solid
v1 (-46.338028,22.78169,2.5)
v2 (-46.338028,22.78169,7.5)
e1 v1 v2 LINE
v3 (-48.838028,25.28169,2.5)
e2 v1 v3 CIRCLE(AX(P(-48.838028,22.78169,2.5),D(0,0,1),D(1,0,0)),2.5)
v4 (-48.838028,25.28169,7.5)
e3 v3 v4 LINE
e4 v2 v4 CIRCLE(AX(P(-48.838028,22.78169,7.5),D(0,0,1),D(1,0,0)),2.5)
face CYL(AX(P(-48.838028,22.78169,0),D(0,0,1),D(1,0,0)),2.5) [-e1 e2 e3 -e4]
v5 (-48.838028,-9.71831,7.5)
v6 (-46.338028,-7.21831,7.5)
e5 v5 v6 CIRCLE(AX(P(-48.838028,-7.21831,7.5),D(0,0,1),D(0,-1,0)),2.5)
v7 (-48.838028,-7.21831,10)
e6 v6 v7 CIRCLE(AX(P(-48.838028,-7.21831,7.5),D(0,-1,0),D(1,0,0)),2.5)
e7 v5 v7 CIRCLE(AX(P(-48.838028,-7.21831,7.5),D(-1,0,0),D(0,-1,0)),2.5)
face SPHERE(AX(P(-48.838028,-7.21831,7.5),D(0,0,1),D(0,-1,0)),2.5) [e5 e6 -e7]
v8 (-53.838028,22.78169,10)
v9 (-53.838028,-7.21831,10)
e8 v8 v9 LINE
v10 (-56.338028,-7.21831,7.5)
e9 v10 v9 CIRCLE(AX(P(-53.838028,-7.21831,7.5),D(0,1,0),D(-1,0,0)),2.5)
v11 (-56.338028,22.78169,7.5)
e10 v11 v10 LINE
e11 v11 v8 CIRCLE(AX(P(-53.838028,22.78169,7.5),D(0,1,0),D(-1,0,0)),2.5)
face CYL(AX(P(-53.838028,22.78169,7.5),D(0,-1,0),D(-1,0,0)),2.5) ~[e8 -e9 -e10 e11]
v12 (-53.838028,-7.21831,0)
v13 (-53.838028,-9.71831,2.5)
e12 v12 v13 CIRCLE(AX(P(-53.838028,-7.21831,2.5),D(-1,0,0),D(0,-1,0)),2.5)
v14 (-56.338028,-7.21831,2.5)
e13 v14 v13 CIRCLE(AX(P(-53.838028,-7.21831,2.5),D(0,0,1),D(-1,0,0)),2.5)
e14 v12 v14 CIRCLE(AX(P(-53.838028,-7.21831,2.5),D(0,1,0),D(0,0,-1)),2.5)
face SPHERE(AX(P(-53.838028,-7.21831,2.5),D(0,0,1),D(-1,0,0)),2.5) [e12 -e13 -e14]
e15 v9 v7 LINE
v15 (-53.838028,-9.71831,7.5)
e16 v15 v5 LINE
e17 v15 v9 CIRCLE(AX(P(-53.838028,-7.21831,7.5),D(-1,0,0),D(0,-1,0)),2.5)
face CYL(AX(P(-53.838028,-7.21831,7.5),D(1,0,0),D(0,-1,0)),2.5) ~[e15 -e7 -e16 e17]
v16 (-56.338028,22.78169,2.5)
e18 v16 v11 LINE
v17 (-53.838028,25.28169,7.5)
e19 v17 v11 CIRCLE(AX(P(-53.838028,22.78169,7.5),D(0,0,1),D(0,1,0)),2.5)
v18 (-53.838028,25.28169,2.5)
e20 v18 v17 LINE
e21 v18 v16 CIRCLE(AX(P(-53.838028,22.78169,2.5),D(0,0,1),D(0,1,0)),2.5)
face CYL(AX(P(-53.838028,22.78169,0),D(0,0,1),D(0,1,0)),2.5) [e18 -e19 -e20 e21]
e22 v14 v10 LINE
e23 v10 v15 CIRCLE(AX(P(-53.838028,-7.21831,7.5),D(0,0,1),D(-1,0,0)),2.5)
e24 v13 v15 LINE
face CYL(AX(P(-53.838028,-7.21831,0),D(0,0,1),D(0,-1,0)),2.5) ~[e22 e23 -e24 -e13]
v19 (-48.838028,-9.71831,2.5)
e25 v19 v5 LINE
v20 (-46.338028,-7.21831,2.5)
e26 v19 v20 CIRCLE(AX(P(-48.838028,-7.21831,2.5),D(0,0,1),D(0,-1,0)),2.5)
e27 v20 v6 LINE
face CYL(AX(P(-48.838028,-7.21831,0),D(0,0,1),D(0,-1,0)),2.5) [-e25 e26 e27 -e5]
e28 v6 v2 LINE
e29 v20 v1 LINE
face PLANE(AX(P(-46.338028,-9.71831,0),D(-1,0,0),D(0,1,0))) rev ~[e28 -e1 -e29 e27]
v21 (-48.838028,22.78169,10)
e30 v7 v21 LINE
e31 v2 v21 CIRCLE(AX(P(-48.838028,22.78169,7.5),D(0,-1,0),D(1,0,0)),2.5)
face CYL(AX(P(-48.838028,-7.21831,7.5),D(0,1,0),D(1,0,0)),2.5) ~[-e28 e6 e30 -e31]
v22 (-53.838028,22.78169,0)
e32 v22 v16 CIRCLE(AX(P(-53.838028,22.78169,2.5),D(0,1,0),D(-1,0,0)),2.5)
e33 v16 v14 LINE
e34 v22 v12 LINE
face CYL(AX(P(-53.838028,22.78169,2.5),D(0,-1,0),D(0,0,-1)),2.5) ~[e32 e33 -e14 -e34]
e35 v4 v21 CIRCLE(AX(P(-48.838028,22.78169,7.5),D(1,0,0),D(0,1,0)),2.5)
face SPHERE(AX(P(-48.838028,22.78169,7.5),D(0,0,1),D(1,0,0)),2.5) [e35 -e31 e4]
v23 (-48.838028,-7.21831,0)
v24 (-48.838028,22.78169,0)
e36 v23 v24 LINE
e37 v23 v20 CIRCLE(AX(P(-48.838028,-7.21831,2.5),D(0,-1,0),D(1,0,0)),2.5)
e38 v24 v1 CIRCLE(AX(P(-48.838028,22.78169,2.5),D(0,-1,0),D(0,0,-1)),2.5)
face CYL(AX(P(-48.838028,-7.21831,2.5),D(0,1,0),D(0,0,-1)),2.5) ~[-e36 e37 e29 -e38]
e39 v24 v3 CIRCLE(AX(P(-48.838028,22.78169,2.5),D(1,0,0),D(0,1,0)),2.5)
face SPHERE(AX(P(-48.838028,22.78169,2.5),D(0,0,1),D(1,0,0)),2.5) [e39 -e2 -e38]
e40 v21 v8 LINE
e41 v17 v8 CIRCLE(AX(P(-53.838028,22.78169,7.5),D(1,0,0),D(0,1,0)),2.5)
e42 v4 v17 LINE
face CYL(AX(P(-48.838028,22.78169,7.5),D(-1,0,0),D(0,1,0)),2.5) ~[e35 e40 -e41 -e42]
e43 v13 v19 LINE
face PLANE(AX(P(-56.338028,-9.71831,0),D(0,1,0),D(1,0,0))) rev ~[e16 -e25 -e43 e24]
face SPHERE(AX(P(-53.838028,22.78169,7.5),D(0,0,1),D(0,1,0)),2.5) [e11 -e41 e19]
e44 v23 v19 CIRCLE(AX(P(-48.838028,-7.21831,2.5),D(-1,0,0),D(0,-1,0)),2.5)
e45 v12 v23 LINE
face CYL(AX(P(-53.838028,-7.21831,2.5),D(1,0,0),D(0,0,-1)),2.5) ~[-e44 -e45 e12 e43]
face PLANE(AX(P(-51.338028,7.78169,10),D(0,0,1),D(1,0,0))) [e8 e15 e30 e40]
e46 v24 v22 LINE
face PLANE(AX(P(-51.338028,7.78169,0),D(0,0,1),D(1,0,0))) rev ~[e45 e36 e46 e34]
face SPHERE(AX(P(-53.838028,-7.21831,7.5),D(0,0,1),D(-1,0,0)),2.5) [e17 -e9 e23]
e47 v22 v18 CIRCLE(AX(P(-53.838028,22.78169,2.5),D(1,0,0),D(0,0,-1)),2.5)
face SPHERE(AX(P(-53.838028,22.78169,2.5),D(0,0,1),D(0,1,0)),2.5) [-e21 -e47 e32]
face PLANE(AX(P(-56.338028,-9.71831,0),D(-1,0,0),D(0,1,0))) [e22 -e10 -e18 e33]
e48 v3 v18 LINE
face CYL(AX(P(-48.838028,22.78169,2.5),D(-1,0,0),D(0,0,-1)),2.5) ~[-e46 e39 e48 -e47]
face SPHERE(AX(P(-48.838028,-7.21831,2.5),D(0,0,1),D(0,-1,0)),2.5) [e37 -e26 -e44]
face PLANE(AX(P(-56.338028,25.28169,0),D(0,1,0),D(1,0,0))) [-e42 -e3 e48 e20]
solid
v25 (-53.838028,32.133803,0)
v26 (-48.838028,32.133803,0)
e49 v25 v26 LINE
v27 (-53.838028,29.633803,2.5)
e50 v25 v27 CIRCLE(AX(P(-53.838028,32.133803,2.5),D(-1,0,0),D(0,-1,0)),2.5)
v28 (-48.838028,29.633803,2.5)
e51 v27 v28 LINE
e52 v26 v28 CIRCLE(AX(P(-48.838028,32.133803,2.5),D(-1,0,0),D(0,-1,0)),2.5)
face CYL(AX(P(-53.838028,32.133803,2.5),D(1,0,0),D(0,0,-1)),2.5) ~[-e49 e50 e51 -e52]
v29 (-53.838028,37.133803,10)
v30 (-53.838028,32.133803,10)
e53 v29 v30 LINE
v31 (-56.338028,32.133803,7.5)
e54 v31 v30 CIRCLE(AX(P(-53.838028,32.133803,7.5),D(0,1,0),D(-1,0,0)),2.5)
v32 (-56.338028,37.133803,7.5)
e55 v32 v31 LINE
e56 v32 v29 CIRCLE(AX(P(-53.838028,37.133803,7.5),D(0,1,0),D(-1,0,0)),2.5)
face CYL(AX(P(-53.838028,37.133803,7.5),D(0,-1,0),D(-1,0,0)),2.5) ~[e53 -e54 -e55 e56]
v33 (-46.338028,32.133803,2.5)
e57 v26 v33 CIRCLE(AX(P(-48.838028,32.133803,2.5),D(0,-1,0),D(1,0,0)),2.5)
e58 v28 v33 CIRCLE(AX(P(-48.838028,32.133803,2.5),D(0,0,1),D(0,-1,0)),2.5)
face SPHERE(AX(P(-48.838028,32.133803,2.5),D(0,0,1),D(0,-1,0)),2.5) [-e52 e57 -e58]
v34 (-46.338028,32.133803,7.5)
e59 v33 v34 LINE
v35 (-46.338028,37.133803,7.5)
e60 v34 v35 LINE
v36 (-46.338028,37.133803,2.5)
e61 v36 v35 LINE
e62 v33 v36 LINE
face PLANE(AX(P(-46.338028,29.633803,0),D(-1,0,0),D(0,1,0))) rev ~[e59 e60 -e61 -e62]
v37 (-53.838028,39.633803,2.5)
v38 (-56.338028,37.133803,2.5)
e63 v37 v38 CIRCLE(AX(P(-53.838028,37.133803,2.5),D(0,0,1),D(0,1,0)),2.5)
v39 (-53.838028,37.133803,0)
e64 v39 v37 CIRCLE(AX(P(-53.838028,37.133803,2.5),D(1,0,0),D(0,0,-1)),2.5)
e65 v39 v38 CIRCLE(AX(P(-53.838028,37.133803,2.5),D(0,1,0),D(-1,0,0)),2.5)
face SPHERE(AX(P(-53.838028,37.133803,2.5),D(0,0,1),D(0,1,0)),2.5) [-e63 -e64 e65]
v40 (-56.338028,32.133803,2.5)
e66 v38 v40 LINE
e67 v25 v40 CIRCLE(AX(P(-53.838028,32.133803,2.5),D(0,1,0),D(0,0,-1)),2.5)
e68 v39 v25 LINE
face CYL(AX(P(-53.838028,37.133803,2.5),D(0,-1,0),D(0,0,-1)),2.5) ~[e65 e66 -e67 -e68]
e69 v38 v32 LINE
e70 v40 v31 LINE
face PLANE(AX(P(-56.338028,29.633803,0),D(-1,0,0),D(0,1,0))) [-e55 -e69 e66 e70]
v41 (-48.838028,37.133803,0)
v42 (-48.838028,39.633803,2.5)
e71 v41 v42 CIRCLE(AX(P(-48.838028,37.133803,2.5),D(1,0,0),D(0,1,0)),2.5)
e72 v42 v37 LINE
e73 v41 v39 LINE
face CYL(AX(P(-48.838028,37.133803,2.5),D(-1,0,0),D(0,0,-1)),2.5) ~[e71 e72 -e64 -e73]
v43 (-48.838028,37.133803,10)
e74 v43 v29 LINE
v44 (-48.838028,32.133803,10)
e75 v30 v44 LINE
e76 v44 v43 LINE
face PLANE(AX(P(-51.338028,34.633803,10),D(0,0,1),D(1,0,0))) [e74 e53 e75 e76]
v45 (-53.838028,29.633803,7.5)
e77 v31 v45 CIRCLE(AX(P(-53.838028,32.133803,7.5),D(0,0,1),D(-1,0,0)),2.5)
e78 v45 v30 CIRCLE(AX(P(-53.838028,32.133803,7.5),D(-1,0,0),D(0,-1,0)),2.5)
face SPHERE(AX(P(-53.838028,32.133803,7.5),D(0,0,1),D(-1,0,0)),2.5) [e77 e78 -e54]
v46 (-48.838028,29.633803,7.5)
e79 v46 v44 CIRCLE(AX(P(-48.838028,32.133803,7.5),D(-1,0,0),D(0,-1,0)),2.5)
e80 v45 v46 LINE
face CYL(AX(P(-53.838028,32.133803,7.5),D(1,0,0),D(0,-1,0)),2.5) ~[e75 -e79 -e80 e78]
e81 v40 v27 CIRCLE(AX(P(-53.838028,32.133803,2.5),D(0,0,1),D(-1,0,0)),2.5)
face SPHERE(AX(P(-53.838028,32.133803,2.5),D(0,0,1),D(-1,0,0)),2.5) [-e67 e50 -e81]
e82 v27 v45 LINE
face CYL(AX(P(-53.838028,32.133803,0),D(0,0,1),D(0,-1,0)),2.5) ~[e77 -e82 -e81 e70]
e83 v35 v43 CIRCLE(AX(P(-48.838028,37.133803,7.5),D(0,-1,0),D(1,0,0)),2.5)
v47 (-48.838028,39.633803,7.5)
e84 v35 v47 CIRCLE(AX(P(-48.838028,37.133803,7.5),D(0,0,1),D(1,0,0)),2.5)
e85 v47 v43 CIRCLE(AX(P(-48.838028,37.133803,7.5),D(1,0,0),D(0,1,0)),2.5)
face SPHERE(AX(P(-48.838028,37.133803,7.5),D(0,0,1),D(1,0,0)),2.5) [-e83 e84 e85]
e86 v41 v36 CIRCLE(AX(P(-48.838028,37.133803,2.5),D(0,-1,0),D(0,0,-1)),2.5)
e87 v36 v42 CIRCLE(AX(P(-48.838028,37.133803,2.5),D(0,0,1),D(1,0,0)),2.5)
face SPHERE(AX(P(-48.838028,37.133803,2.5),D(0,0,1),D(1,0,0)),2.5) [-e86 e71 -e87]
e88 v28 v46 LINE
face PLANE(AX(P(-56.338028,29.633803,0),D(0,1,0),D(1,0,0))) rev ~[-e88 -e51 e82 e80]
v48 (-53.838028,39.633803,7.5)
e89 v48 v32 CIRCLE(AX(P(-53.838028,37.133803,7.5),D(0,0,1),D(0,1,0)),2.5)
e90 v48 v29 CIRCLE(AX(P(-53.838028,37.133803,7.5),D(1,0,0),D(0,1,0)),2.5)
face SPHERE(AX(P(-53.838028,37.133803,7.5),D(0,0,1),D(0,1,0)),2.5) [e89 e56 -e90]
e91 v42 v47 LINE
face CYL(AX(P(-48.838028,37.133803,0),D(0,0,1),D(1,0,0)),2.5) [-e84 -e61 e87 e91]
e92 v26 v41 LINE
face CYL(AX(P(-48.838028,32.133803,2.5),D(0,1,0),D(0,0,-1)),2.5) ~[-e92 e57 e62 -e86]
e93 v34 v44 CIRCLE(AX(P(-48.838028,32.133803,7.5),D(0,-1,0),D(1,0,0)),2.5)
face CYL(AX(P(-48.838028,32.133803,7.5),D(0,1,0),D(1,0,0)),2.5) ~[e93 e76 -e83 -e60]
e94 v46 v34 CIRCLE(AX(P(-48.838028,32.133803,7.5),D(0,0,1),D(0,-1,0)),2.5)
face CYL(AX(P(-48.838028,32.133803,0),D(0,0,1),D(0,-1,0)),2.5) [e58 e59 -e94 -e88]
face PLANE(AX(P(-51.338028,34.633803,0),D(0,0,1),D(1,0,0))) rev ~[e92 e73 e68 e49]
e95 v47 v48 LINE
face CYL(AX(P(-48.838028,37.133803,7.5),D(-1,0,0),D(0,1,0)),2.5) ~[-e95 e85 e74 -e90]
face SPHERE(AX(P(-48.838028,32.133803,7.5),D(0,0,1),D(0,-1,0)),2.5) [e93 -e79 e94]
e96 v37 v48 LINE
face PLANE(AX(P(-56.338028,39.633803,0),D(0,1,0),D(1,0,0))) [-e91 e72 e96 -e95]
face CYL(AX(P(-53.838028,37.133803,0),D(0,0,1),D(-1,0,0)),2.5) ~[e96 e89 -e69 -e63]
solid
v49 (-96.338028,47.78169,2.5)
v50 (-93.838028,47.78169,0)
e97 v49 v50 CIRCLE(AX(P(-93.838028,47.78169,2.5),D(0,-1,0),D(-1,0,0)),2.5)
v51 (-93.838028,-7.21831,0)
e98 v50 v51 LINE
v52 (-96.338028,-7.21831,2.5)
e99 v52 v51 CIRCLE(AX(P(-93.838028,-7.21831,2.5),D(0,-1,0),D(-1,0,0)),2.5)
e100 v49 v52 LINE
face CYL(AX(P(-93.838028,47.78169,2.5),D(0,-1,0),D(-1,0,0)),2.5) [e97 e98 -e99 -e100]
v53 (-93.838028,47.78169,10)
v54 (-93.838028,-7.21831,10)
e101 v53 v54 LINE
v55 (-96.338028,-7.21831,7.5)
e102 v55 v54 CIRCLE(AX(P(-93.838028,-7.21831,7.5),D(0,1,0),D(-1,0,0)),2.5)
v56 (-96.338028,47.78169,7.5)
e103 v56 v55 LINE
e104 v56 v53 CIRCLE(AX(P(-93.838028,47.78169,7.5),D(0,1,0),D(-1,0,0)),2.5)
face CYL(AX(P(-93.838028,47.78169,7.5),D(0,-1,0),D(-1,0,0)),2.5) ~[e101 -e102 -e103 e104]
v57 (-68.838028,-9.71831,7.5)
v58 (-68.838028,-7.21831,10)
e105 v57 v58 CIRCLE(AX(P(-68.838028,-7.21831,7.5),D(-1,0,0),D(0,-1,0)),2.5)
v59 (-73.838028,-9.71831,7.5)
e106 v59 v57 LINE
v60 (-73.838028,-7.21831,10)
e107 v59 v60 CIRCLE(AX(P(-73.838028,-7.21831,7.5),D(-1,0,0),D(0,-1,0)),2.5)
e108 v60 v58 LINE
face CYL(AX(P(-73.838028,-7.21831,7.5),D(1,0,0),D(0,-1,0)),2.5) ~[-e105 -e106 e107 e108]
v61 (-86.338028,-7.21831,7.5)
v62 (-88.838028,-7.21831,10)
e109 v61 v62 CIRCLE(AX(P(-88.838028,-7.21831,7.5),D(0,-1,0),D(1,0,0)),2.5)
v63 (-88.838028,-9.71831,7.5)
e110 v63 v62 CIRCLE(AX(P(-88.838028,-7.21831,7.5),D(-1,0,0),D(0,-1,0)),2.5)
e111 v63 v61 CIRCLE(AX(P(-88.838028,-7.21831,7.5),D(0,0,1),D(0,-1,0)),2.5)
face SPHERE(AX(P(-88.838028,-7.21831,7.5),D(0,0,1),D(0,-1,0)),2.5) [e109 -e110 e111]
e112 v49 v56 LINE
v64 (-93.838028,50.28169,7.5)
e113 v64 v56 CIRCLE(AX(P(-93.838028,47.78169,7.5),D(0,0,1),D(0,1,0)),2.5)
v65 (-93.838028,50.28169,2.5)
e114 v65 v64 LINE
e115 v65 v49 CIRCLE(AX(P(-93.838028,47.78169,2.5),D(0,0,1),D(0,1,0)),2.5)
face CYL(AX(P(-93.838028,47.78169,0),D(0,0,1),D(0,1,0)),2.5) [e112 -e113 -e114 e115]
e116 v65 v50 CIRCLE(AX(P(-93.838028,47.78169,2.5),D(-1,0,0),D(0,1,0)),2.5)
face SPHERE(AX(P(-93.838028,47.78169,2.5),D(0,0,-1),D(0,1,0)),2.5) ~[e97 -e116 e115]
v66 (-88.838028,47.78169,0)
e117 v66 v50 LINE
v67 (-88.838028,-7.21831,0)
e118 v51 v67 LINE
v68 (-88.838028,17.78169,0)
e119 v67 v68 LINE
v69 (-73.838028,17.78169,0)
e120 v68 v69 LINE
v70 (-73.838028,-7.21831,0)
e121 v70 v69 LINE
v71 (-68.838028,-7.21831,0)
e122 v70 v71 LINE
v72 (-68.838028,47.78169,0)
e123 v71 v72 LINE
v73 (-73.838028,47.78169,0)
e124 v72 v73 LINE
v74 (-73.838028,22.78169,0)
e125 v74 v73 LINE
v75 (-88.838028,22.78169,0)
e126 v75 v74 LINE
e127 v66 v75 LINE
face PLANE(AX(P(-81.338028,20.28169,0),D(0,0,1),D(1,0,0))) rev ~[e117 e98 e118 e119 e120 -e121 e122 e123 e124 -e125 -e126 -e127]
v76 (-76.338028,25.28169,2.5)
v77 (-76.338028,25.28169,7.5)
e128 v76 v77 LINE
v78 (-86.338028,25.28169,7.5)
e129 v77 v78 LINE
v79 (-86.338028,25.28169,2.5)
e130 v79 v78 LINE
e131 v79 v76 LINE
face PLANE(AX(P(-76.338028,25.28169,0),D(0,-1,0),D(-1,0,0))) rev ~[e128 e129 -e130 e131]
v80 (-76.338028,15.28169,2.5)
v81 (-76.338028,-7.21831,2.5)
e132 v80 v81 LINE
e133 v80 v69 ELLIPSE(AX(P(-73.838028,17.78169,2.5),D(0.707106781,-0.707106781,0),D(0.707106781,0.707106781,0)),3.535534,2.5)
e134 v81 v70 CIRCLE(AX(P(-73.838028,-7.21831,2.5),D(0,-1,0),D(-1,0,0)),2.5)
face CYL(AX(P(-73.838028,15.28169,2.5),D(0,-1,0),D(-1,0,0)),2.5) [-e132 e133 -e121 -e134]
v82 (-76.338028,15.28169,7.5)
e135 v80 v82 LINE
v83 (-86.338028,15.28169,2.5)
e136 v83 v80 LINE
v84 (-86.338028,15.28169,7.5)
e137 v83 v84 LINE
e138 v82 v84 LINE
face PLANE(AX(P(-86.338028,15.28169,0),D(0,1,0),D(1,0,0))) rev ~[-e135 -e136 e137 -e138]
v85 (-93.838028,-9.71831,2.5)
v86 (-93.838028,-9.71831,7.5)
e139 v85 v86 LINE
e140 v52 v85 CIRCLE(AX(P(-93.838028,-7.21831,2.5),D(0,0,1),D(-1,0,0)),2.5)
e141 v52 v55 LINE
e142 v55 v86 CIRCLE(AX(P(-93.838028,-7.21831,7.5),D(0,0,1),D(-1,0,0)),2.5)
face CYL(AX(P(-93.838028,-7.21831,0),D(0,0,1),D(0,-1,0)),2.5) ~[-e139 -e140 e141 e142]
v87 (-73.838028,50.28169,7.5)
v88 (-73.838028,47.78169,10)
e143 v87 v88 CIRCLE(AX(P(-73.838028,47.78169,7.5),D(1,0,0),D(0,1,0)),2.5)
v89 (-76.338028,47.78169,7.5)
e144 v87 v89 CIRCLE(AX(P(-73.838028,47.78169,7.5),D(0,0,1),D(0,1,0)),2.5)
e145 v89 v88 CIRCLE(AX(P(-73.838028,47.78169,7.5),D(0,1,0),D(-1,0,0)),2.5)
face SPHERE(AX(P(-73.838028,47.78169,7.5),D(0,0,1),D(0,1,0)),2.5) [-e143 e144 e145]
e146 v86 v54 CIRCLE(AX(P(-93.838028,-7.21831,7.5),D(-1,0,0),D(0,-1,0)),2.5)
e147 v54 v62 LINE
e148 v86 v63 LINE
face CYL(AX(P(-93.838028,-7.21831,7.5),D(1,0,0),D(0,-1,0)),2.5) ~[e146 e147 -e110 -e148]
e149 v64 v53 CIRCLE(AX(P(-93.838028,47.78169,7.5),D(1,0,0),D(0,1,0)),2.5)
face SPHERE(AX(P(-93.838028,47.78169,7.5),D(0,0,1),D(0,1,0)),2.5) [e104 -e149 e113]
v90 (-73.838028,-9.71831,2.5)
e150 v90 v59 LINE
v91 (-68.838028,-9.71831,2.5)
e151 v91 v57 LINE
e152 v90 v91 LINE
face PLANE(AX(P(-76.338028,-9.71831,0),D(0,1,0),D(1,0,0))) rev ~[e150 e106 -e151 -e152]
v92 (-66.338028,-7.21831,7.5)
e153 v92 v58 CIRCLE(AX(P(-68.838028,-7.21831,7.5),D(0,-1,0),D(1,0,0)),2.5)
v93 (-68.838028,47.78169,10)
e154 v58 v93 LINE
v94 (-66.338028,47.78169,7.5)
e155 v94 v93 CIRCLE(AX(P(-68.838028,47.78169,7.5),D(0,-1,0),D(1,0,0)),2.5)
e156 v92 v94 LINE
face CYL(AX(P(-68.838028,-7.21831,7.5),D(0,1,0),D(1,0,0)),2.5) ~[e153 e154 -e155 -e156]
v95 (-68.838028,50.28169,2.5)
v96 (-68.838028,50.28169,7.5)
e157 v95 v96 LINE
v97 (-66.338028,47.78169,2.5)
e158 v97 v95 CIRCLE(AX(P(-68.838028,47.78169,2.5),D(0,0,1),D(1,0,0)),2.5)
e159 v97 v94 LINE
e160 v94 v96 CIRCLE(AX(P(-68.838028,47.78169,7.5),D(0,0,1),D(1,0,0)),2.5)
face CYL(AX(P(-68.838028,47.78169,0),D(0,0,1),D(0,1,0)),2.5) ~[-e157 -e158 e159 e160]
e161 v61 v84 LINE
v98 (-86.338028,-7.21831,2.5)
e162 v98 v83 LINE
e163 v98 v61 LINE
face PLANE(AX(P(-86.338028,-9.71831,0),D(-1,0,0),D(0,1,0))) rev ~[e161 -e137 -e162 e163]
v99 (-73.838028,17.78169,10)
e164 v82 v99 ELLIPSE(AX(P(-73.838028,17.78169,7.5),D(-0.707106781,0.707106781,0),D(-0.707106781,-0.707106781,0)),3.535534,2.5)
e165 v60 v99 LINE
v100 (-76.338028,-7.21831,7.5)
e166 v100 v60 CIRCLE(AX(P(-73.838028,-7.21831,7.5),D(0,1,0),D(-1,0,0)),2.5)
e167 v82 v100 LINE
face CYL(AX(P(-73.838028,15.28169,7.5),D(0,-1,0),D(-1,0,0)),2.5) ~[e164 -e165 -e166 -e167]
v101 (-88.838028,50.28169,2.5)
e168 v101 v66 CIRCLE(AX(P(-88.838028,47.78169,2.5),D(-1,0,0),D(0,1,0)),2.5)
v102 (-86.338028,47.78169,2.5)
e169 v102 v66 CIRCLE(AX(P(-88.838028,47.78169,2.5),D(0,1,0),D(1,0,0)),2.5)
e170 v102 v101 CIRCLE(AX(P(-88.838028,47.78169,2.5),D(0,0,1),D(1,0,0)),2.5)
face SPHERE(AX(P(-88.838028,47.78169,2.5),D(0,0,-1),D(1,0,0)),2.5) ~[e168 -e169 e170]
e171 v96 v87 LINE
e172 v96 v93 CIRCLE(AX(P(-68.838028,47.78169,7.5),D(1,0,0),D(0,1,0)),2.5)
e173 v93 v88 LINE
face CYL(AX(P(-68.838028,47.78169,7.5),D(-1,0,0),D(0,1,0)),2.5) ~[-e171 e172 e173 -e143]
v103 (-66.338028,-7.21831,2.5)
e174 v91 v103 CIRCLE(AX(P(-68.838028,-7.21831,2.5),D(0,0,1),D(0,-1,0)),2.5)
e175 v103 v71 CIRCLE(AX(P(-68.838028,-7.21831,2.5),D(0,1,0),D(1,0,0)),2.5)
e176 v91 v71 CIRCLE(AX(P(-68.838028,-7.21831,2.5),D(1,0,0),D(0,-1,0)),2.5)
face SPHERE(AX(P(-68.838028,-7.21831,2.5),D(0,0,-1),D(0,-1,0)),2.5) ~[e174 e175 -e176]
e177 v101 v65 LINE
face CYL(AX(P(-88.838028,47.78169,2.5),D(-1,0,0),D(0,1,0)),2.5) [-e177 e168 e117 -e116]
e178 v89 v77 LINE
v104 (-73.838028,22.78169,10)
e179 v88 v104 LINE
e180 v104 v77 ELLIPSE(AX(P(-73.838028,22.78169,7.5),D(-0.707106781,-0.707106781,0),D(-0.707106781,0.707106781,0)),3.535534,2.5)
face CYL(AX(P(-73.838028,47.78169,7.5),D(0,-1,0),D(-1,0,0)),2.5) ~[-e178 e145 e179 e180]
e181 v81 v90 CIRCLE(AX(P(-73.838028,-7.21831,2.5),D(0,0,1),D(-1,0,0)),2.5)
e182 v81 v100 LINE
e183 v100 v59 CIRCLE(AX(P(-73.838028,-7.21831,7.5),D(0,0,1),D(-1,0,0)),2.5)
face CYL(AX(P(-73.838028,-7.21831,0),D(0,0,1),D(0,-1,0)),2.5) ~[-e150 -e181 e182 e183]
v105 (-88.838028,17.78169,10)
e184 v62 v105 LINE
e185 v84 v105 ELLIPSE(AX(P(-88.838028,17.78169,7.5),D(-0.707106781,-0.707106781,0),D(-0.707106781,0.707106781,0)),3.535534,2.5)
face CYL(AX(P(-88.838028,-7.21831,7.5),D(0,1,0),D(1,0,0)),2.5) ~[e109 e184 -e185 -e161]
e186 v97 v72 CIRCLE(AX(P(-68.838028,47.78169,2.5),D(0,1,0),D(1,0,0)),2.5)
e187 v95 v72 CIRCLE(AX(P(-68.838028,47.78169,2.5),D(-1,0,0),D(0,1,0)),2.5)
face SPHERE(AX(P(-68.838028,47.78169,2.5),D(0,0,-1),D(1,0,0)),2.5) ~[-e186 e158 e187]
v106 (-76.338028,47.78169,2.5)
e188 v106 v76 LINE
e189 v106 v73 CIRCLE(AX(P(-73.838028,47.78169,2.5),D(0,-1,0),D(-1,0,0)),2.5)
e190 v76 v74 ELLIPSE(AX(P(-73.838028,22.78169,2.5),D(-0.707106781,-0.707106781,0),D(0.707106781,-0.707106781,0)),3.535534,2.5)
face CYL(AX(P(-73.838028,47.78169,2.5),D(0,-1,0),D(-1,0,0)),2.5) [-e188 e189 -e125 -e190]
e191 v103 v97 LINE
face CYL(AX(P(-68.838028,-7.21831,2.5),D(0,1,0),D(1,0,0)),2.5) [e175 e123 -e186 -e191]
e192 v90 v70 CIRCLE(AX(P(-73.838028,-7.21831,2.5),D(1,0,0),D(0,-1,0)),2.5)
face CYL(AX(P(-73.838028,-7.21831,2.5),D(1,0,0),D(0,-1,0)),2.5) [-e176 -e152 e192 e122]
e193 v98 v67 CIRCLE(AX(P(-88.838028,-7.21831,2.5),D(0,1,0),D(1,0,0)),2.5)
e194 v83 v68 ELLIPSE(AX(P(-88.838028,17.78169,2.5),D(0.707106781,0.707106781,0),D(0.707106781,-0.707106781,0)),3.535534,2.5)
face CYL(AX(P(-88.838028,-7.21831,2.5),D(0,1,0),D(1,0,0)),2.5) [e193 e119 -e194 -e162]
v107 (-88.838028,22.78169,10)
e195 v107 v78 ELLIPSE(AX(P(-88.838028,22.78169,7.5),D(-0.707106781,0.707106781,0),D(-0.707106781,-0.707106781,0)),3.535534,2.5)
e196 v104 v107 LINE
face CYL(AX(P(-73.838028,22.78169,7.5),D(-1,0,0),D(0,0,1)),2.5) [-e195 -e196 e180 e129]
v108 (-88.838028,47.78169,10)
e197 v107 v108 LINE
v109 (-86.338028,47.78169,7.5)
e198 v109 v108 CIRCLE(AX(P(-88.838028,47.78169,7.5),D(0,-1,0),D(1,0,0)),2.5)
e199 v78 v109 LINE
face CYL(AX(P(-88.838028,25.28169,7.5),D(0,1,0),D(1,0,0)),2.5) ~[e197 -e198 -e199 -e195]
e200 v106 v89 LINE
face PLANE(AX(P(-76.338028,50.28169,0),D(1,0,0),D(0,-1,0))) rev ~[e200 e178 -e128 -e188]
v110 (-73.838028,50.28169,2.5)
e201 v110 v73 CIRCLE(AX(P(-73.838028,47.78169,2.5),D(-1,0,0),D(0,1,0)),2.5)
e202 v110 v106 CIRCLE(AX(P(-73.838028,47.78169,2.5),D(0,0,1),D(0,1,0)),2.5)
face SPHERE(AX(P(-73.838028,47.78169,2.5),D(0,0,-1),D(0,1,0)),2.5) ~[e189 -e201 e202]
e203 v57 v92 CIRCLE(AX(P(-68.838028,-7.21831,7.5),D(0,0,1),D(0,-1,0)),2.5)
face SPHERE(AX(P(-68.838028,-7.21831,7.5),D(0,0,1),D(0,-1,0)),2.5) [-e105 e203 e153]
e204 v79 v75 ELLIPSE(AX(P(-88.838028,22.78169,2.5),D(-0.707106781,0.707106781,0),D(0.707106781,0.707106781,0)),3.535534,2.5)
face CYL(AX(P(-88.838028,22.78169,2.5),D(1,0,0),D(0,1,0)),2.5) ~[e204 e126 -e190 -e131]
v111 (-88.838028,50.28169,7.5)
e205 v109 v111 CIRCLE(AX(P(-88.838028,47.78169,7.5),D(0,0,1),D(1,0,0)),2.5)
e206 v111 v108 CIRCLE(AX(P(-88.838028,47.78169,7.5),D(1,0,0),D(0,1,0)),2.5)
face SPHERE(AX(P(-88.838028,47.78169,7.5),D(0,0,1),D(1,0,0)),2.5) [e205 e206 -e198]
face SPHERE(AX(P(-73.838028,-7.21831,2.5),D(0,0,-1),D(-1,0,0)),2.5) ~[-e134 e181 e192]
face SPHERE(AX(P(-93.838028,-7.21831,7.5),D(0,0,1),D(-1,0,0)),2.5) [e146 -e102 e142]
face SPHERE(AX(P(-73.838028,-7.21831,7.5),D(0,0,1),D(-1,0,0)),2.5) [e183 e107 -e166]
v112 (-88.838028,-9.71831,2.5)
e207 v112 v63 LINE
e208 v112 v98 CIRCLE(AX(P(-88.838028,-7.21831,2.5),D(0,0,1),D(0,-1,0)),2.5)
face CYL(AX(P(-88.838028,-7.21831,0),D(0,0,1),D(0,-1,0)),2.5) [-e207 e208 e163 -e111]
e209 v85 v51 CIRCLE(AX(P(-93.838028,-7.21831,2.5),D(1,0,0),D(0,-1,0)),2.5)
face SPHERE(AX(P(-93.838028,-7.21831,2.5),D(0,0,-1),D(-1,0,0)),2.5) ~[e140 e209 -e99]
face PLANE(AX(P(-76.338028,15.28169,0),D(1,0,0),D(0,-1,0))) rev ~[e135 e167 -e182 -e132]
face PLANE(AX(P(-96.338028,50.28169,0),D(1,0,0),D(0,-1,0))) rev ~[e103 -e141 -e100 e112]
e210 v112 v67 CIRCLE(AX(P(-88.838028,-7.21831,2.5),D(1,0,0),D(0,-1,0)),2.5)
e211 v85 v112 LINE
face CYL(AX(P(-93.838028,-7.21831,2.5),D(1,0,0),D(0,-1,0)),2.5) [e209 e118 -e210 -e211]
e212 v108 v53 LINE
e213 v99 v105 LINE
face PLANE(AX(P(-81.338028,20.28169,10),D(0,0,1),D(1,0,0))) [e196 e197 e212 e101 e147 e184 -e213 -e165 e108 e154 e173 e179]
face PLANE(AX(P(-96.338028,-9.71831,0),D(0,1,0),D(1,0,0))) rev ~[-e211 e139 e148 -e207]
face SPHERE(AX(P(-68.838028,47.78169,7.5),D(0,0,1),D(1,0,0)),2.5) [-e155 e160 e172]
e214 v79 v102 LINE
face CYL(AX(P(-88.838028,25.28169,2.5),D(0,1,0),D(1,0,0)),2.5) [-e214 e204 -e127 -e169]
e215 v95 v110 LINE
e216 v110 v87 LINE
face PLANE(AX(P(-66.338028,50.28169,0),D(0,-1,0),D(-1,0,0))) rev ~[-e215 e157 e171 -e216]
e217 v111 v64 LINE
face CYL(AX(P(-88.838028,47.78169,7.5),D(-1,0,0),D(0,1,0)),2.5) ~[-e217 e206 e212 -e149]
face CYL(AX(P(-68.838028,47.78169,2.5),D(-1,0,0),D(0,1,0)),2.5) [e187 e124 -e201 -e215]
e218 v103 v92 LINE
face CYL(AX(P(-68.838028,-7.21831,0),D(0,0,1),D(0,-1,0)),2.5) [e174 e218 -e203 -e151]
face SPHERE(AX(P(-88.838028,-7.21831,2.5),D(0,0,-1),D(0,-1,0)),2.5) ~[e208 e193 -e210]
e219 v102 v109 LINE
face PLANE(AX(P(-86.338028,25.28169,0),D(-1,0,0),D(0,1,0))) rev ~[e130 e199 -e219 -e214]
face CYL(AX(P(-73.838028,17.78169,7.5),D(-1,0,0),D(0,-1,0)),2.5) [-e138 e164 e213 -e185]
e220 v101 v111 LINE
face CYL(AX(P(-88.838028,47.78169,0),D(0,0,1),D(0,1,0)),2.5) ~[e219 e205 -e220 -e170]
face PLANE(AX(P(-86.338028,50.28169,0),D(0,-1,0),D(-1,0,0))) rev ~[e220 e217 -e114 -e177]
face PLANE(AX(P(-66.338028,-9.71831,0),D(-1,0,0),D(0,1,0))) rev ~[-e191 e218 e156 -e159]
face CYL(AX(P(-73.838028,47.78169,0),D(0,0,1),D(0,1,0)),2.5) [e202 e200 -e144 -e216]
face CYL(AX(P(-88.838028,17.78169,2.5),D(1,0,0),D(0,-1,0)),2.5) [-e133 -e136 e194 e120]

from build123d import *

# Parameters (mm, degrees)
BOSS_EXTRUDE1_DEPTH   = 10
SKETCH1_W             = 10
SKETCH1_H             = 10
BOSS_EXTRUDE1_2_DEPTH = 10
SKETCH1_H_2           = 35
BOSS_EXTRUDE1_3_DEPTH = 10
FILLET2_R             = 2.5
FILLET3_R             = 2.5
FILLET4_R             = 2.5
FILLET5_R             = 2.5
FILLET6_R             = 2.5
FILLET7_R             = 2.5
FILLET8_R             = 2.5
FILLET9_R             = 2.5
FILLET10_R            = 2.5
FILLET11_R            = 2.5
FILLET12_R            = 2.5
FILLET13_R            = 2.5
FILLET14_R            = 2.5
FILLET15_R            = 2.5
FILLET16_R            = 2.5
FILLET17_R            = 2.5
FILLET18_R            = 2.5
FILLET19_R            = 2.5
FILLET20_R            = 2.5
FILLET21_R            = 2.5
FILLET22_R            = 2.5
FILLET23_R            = 2.5
FILLET24_R            = 2.5


with BuildPart() as part:
    # Sketch1 → Boss-Extrude1 (new body)
    with BuildSketch(Plane.XY):
        Polygon((-86.338028169, -9.718309859), (-86.338028169, 15.281690141), (-76.338028169, 15.281690141), (-76.338028169, -9.718309859), (-66.338028169, -9.718309859), (-66.338028169, 15.281690141), (-66.338028169, 25.281690141), (-66.338028169, 50.281690141), (-76.338028169, 50.281690141), (-76.338028169, 25.281690141), (-86.338028169, 25.281690141), (-86.338028169, 50.281690141), (-96.338028169, 50.281690141), (-96.338028169, 25.281690141), (-96.338028169, 15.281690141), (-96.338028169, -9.718309859), align=None)
    extrude(amount=BOSS_EXTRUDE1_DEPTH)

    # Fillet2
    fillet2_edges = [part.edges().sort_by_distance(p)[0] for p in [
        (-96.338028169, 50.281690141, 5),
    ]]
    fillet(fillet2_edges, radius=FILLET2_R)

    # Fillet3
    fillet3_edges = [part.edges().sort_by_distance(p)[0] for p in [
        (-86.338028169, 50.281690141, 5),
    ]]
    fillet(fillet3_edges, radius=FILLET3_R)

    # Fillet4
    fillet4_edges = [part.edges().sort_by_distance(p)[0] for p in [
        (-66.338028169, 50.281690141, 5),
    ]]
    fillet(fillet4_edges, radius=FILLET4_R)

    # Fillet5
    fillet5_edges = [part.edges().sort_by_distance(p)[0] for p in [
        (-76.338028169, 50.281690141, 5),
    ]]
    fillet(fillet5_edges, radius=FILLET5_R)

    # Fillet6
    fillet6_edges = [part.edges().sort_by_distance(p)[0] for p in [
        (-96.338028169, -9.718309859, 5),
    ]]
    fillet(fillet6_edges, radius=FILLET6_R)

    # Fillet7
    fillet7_edges = [part.edges().sort_by_distance(p)[0] for p in [
        (-86.338028169, -9.718309859, 5),
    ]]
    fillet(fillet7_edges, radius=FILLET7_R)

    # Fillet9
    fillet9_edges = [part.edges().sort_by_distance(p)[0] for p in [
        (-66.338028169, -9.718309859, 5),
    ]]
    fillet(fillet9_edges, radius=FILLET9_R)

    # Fillet10
    fillet10_edges = [part.edges().sort_by_distance(p)[0] for p in [
        (-76.338028169, -9.718309859, 5),
    ]]
    fillet(fillet10_edges, radius=FILLET10_R)

    # Fillet16
    fillet16_edges = [part.edges().sort_by_distance(p)[0] for p in [
        (-96.338028169, 20.281690141, 10),
        (-91.338028169, 50.281690141, 10),
        (-95.605795122, 49.549457094, 10),
        (-86.338028169, 36.531690141, 10),
        (-87.070261216, 49.549457094, 10),
        (-86.338028169, 4.031690141, 10),
        (-91.338028169, -9.718309859, 10),
        (-95.605795122, -8.986076812, 10),
        (-87.070261216, -8.986076812, 10),
    ]]
    fillet(fillet16_edges, radius=FILLET16_R)

    # Fillet17
    fillet17_edges = [part.edges().sort_by_distance(p)[0] for p in [
        (-76.338028169, 4.031690141, 10),
        (-66.338028169, 20.281690141, 10),
        (-67.070261216, 49.549457094, 10),
        (-76.338028169, 36.531690141, 10),
        (-71.338028169, 50.281690141, 10),
        (-75.605795122, 49.549457094, 10),
        (-67.070261216, -8.986076812, 10),
        (-71.338028169, -9.718309859, 10),
        (-75.605795122, -8.986076812, 10),
    ]]
    fillet(fillet17_edges, radius=FILLET17_R)

    # Fillet22
    fillet22_edges = [part.edges().sort_by_distance(p)[0] for p in [
        (-86.338028169, 36.531690141, 0),
        (-87.070261216, 49.549457094, 0),
        (-91.338028169, 50.281690141, 0),
        (-95.605795122, 49.549457094, 0),
        (-86.338028169, 4.031690141, 0),
        (-87.070261216, -8.986076812, 0),
        (-91.338028169, -9.718309859, 0),
        (-95.605795122, -8.986076812, 0),
        (-76.338028169, 36.531690141, 0),
        (-75.605795122, 49.549457094, 0),
        (-67.070261216, 49.549457094, 0),
        (-76.338028169, 4.031690141, 0),
        (-75.605795122, -8.986076812, 0),
        (-71.338028169, -9.718309859, 0),
        (-67.070261216, -8.986076812, 0),
        (-96.338028169, 20.281690141, 0),
        (-66.338028169, 20.281690141, 0),
    ]]
    fillet(fillet22_edges, radius=FILLET22_R)

    # Fillet23
    fillet23_edges = [part.edges().sort_by_distance(p)[0] for p in [
        (-81.338028169, 15.281690141, 0),
        (-81.338028169, 25.281690141, 0),
    ]]
    fillet(fillet23_edges, radius=FILLET23_R)

    # Fillet24
    fillet24_edges = [part.edges().sort_by_distance(p)[0] for p in [
        (-81.338028169, 15.281690141, 10),
        (-81.338028169, 25.281690141, 10),
    ]]
    fillet(fillet24_edges, radius=FILLET24_R)


with BuildPart() as body_2:
    # Sketch1 → Boss-Extrude1 2 (new body)
    with BuildSketch(Plane.XY):
        with Locations((-51.338028169, 34.633802817)):
            Rectangle(SKETCH1_W, SKETCH1_H)
    extrude(amount=BOSS_EXTRUDE1_2_DEPTH)

    # Fillet13
    fillet13_edges = [body_2.edges().sort_by_distance(p)[0] for p in [
        (-46.338028169, 29.633802817, 5),
    ]]
    fillet(fillet13_edges, radius=FILLET13_R)

    # Fillet14
    fillet14_edges = [body_2.edges().sort_by_distance(p)[0] for p in [
        (-56.338028169, 29.633802817, 5),
        (-56.338028169, 39.633802817, 5),
        (-46.338028169, 39.633802817, 5),
    ]]
    fillet(fillet14_edges, radius=FILLET14_R)

    # Fillet19
    fillet19_edges = [body_2.edges().sort_by_distance(p)[0] for p in [
        (-47.070261216, 30.366035864, 10),
        (-51.338028169, 29.633802817, 10),
        (-56.338028169, 34.633802817, 10),
        (-46.338028169, 34.633802817, 10),
        (-51.338028169, 39.633802817, 10),
        (-47.070261216, 38.90156977, 10),
        (-55.605795122, 38.90156977, 10),
        (-55.605795122, 30.366035864, 10),
    ]]
    fillet(fillet19_edges, radius=FILLET19_R)

    # Fillet20
    fillet20_edges = [body_2.edges().sort_by_distance(p)[0] for p in [
        (-47.070261216, 30.366035864, 0),
        (-51.338028169, 29.633802817, 0),
        (-46.338028169, 34.633802817, 0),
        (-56.338028169, 34.633802817, 0),
        (-51.338028169, 39.633802817, 0),
        (-47.070261216, 38.90156977, 0),
        (-55.605795122, 38.90156977, 0),
        (-55.605795122, 30.366035864, 0),
    ]]
    fillet(fillet20_edges, radius=FILLET20_R)


with BuildPart() as body_3:
    # Sketch1 → Boss-Extrude1 3 (new body)
    with BuildSketch(Plane.XY):
        with Locations((-51.338028169, 7.781690141)):
            Rectangle(SKETCH1_W, SKETCH1_H_2)
    extrude(amount=BOSS_EXTRUDE1_3_DEPTH)

    # Fillet8
    fillet8_edges = [body_3.edges().sort_by_distance(p)[0] for p in [
        (-46.338028169, -9.718309859, 5),
    ]]
    fillet(fillet8_edges, radius=FILLET8_R)

    # Fillet11
    fillet11_edges = [body_3.edges().sort_by_distance(p)[0] for p in [
        (-56.338028169, -9.718309859, 5),
    ]]
    fillet(fillet11_edges, radius=FILLET11_R)

    # Fillet12
    fillet12_edges = [body_3.edges().sort_by_distance(p)[0] for p in [
        (-46.338028169, 25.281690141, 5),
    ]]
    fillet(fillet12_edges, radius=FILLET12_R)

    # Fillet15
    fillet15_edges = [body_3.edges().sort_by_distance(p)[0] for p in [
        (-56.338028169, 25.281690141, 5),
    ]]
    fillet(fillet15_edges, radius=FILLET15_R)

    # Fillet18
    fillet18_edges = [body_3.edges().sort_by_distance(p)[0] for p in [
        (-47.070261216, -8.986076812, 10),
        (-51.338028169, -9.718309859, 10),
        (-55.605795122, -8.986076812, 10),
        (-46.338028169, 7.781690141, 10),
        (-47.070261216, 24.549457094, 10),
        (-56.338028169, 7.781690141, 10),
        (-51.338028169, 25.281690141, 10),
        (-55.605795122, 24.549457094, 10),
    ]]
    fillet(fillet18_edges, radius=FILLET18_R)

    # Fillet21
    fillet21_edges = [body_3.edges().sort_by_distance(p)[0] for p in [
        (-47.070261216, -8.986076812, 0),
        (-51.338028169, -9.718309859, 0),
        (-55.605795122, -8.986076812, 0),
        (-46.338028169, 7.781690141, 0),
        (-47.070261216, 24.549457094, 0),
        (-56.338028169, 7.781690141, 0),
        (-51.338028169, 25.281690141, 0),
        (-55.605795122, 24.549457094, 0),
    ]]
    fillet(fillet21_edges, radius=FILLET21_R)


solid = Compound([part.part, body_2.part, body_3.part])
